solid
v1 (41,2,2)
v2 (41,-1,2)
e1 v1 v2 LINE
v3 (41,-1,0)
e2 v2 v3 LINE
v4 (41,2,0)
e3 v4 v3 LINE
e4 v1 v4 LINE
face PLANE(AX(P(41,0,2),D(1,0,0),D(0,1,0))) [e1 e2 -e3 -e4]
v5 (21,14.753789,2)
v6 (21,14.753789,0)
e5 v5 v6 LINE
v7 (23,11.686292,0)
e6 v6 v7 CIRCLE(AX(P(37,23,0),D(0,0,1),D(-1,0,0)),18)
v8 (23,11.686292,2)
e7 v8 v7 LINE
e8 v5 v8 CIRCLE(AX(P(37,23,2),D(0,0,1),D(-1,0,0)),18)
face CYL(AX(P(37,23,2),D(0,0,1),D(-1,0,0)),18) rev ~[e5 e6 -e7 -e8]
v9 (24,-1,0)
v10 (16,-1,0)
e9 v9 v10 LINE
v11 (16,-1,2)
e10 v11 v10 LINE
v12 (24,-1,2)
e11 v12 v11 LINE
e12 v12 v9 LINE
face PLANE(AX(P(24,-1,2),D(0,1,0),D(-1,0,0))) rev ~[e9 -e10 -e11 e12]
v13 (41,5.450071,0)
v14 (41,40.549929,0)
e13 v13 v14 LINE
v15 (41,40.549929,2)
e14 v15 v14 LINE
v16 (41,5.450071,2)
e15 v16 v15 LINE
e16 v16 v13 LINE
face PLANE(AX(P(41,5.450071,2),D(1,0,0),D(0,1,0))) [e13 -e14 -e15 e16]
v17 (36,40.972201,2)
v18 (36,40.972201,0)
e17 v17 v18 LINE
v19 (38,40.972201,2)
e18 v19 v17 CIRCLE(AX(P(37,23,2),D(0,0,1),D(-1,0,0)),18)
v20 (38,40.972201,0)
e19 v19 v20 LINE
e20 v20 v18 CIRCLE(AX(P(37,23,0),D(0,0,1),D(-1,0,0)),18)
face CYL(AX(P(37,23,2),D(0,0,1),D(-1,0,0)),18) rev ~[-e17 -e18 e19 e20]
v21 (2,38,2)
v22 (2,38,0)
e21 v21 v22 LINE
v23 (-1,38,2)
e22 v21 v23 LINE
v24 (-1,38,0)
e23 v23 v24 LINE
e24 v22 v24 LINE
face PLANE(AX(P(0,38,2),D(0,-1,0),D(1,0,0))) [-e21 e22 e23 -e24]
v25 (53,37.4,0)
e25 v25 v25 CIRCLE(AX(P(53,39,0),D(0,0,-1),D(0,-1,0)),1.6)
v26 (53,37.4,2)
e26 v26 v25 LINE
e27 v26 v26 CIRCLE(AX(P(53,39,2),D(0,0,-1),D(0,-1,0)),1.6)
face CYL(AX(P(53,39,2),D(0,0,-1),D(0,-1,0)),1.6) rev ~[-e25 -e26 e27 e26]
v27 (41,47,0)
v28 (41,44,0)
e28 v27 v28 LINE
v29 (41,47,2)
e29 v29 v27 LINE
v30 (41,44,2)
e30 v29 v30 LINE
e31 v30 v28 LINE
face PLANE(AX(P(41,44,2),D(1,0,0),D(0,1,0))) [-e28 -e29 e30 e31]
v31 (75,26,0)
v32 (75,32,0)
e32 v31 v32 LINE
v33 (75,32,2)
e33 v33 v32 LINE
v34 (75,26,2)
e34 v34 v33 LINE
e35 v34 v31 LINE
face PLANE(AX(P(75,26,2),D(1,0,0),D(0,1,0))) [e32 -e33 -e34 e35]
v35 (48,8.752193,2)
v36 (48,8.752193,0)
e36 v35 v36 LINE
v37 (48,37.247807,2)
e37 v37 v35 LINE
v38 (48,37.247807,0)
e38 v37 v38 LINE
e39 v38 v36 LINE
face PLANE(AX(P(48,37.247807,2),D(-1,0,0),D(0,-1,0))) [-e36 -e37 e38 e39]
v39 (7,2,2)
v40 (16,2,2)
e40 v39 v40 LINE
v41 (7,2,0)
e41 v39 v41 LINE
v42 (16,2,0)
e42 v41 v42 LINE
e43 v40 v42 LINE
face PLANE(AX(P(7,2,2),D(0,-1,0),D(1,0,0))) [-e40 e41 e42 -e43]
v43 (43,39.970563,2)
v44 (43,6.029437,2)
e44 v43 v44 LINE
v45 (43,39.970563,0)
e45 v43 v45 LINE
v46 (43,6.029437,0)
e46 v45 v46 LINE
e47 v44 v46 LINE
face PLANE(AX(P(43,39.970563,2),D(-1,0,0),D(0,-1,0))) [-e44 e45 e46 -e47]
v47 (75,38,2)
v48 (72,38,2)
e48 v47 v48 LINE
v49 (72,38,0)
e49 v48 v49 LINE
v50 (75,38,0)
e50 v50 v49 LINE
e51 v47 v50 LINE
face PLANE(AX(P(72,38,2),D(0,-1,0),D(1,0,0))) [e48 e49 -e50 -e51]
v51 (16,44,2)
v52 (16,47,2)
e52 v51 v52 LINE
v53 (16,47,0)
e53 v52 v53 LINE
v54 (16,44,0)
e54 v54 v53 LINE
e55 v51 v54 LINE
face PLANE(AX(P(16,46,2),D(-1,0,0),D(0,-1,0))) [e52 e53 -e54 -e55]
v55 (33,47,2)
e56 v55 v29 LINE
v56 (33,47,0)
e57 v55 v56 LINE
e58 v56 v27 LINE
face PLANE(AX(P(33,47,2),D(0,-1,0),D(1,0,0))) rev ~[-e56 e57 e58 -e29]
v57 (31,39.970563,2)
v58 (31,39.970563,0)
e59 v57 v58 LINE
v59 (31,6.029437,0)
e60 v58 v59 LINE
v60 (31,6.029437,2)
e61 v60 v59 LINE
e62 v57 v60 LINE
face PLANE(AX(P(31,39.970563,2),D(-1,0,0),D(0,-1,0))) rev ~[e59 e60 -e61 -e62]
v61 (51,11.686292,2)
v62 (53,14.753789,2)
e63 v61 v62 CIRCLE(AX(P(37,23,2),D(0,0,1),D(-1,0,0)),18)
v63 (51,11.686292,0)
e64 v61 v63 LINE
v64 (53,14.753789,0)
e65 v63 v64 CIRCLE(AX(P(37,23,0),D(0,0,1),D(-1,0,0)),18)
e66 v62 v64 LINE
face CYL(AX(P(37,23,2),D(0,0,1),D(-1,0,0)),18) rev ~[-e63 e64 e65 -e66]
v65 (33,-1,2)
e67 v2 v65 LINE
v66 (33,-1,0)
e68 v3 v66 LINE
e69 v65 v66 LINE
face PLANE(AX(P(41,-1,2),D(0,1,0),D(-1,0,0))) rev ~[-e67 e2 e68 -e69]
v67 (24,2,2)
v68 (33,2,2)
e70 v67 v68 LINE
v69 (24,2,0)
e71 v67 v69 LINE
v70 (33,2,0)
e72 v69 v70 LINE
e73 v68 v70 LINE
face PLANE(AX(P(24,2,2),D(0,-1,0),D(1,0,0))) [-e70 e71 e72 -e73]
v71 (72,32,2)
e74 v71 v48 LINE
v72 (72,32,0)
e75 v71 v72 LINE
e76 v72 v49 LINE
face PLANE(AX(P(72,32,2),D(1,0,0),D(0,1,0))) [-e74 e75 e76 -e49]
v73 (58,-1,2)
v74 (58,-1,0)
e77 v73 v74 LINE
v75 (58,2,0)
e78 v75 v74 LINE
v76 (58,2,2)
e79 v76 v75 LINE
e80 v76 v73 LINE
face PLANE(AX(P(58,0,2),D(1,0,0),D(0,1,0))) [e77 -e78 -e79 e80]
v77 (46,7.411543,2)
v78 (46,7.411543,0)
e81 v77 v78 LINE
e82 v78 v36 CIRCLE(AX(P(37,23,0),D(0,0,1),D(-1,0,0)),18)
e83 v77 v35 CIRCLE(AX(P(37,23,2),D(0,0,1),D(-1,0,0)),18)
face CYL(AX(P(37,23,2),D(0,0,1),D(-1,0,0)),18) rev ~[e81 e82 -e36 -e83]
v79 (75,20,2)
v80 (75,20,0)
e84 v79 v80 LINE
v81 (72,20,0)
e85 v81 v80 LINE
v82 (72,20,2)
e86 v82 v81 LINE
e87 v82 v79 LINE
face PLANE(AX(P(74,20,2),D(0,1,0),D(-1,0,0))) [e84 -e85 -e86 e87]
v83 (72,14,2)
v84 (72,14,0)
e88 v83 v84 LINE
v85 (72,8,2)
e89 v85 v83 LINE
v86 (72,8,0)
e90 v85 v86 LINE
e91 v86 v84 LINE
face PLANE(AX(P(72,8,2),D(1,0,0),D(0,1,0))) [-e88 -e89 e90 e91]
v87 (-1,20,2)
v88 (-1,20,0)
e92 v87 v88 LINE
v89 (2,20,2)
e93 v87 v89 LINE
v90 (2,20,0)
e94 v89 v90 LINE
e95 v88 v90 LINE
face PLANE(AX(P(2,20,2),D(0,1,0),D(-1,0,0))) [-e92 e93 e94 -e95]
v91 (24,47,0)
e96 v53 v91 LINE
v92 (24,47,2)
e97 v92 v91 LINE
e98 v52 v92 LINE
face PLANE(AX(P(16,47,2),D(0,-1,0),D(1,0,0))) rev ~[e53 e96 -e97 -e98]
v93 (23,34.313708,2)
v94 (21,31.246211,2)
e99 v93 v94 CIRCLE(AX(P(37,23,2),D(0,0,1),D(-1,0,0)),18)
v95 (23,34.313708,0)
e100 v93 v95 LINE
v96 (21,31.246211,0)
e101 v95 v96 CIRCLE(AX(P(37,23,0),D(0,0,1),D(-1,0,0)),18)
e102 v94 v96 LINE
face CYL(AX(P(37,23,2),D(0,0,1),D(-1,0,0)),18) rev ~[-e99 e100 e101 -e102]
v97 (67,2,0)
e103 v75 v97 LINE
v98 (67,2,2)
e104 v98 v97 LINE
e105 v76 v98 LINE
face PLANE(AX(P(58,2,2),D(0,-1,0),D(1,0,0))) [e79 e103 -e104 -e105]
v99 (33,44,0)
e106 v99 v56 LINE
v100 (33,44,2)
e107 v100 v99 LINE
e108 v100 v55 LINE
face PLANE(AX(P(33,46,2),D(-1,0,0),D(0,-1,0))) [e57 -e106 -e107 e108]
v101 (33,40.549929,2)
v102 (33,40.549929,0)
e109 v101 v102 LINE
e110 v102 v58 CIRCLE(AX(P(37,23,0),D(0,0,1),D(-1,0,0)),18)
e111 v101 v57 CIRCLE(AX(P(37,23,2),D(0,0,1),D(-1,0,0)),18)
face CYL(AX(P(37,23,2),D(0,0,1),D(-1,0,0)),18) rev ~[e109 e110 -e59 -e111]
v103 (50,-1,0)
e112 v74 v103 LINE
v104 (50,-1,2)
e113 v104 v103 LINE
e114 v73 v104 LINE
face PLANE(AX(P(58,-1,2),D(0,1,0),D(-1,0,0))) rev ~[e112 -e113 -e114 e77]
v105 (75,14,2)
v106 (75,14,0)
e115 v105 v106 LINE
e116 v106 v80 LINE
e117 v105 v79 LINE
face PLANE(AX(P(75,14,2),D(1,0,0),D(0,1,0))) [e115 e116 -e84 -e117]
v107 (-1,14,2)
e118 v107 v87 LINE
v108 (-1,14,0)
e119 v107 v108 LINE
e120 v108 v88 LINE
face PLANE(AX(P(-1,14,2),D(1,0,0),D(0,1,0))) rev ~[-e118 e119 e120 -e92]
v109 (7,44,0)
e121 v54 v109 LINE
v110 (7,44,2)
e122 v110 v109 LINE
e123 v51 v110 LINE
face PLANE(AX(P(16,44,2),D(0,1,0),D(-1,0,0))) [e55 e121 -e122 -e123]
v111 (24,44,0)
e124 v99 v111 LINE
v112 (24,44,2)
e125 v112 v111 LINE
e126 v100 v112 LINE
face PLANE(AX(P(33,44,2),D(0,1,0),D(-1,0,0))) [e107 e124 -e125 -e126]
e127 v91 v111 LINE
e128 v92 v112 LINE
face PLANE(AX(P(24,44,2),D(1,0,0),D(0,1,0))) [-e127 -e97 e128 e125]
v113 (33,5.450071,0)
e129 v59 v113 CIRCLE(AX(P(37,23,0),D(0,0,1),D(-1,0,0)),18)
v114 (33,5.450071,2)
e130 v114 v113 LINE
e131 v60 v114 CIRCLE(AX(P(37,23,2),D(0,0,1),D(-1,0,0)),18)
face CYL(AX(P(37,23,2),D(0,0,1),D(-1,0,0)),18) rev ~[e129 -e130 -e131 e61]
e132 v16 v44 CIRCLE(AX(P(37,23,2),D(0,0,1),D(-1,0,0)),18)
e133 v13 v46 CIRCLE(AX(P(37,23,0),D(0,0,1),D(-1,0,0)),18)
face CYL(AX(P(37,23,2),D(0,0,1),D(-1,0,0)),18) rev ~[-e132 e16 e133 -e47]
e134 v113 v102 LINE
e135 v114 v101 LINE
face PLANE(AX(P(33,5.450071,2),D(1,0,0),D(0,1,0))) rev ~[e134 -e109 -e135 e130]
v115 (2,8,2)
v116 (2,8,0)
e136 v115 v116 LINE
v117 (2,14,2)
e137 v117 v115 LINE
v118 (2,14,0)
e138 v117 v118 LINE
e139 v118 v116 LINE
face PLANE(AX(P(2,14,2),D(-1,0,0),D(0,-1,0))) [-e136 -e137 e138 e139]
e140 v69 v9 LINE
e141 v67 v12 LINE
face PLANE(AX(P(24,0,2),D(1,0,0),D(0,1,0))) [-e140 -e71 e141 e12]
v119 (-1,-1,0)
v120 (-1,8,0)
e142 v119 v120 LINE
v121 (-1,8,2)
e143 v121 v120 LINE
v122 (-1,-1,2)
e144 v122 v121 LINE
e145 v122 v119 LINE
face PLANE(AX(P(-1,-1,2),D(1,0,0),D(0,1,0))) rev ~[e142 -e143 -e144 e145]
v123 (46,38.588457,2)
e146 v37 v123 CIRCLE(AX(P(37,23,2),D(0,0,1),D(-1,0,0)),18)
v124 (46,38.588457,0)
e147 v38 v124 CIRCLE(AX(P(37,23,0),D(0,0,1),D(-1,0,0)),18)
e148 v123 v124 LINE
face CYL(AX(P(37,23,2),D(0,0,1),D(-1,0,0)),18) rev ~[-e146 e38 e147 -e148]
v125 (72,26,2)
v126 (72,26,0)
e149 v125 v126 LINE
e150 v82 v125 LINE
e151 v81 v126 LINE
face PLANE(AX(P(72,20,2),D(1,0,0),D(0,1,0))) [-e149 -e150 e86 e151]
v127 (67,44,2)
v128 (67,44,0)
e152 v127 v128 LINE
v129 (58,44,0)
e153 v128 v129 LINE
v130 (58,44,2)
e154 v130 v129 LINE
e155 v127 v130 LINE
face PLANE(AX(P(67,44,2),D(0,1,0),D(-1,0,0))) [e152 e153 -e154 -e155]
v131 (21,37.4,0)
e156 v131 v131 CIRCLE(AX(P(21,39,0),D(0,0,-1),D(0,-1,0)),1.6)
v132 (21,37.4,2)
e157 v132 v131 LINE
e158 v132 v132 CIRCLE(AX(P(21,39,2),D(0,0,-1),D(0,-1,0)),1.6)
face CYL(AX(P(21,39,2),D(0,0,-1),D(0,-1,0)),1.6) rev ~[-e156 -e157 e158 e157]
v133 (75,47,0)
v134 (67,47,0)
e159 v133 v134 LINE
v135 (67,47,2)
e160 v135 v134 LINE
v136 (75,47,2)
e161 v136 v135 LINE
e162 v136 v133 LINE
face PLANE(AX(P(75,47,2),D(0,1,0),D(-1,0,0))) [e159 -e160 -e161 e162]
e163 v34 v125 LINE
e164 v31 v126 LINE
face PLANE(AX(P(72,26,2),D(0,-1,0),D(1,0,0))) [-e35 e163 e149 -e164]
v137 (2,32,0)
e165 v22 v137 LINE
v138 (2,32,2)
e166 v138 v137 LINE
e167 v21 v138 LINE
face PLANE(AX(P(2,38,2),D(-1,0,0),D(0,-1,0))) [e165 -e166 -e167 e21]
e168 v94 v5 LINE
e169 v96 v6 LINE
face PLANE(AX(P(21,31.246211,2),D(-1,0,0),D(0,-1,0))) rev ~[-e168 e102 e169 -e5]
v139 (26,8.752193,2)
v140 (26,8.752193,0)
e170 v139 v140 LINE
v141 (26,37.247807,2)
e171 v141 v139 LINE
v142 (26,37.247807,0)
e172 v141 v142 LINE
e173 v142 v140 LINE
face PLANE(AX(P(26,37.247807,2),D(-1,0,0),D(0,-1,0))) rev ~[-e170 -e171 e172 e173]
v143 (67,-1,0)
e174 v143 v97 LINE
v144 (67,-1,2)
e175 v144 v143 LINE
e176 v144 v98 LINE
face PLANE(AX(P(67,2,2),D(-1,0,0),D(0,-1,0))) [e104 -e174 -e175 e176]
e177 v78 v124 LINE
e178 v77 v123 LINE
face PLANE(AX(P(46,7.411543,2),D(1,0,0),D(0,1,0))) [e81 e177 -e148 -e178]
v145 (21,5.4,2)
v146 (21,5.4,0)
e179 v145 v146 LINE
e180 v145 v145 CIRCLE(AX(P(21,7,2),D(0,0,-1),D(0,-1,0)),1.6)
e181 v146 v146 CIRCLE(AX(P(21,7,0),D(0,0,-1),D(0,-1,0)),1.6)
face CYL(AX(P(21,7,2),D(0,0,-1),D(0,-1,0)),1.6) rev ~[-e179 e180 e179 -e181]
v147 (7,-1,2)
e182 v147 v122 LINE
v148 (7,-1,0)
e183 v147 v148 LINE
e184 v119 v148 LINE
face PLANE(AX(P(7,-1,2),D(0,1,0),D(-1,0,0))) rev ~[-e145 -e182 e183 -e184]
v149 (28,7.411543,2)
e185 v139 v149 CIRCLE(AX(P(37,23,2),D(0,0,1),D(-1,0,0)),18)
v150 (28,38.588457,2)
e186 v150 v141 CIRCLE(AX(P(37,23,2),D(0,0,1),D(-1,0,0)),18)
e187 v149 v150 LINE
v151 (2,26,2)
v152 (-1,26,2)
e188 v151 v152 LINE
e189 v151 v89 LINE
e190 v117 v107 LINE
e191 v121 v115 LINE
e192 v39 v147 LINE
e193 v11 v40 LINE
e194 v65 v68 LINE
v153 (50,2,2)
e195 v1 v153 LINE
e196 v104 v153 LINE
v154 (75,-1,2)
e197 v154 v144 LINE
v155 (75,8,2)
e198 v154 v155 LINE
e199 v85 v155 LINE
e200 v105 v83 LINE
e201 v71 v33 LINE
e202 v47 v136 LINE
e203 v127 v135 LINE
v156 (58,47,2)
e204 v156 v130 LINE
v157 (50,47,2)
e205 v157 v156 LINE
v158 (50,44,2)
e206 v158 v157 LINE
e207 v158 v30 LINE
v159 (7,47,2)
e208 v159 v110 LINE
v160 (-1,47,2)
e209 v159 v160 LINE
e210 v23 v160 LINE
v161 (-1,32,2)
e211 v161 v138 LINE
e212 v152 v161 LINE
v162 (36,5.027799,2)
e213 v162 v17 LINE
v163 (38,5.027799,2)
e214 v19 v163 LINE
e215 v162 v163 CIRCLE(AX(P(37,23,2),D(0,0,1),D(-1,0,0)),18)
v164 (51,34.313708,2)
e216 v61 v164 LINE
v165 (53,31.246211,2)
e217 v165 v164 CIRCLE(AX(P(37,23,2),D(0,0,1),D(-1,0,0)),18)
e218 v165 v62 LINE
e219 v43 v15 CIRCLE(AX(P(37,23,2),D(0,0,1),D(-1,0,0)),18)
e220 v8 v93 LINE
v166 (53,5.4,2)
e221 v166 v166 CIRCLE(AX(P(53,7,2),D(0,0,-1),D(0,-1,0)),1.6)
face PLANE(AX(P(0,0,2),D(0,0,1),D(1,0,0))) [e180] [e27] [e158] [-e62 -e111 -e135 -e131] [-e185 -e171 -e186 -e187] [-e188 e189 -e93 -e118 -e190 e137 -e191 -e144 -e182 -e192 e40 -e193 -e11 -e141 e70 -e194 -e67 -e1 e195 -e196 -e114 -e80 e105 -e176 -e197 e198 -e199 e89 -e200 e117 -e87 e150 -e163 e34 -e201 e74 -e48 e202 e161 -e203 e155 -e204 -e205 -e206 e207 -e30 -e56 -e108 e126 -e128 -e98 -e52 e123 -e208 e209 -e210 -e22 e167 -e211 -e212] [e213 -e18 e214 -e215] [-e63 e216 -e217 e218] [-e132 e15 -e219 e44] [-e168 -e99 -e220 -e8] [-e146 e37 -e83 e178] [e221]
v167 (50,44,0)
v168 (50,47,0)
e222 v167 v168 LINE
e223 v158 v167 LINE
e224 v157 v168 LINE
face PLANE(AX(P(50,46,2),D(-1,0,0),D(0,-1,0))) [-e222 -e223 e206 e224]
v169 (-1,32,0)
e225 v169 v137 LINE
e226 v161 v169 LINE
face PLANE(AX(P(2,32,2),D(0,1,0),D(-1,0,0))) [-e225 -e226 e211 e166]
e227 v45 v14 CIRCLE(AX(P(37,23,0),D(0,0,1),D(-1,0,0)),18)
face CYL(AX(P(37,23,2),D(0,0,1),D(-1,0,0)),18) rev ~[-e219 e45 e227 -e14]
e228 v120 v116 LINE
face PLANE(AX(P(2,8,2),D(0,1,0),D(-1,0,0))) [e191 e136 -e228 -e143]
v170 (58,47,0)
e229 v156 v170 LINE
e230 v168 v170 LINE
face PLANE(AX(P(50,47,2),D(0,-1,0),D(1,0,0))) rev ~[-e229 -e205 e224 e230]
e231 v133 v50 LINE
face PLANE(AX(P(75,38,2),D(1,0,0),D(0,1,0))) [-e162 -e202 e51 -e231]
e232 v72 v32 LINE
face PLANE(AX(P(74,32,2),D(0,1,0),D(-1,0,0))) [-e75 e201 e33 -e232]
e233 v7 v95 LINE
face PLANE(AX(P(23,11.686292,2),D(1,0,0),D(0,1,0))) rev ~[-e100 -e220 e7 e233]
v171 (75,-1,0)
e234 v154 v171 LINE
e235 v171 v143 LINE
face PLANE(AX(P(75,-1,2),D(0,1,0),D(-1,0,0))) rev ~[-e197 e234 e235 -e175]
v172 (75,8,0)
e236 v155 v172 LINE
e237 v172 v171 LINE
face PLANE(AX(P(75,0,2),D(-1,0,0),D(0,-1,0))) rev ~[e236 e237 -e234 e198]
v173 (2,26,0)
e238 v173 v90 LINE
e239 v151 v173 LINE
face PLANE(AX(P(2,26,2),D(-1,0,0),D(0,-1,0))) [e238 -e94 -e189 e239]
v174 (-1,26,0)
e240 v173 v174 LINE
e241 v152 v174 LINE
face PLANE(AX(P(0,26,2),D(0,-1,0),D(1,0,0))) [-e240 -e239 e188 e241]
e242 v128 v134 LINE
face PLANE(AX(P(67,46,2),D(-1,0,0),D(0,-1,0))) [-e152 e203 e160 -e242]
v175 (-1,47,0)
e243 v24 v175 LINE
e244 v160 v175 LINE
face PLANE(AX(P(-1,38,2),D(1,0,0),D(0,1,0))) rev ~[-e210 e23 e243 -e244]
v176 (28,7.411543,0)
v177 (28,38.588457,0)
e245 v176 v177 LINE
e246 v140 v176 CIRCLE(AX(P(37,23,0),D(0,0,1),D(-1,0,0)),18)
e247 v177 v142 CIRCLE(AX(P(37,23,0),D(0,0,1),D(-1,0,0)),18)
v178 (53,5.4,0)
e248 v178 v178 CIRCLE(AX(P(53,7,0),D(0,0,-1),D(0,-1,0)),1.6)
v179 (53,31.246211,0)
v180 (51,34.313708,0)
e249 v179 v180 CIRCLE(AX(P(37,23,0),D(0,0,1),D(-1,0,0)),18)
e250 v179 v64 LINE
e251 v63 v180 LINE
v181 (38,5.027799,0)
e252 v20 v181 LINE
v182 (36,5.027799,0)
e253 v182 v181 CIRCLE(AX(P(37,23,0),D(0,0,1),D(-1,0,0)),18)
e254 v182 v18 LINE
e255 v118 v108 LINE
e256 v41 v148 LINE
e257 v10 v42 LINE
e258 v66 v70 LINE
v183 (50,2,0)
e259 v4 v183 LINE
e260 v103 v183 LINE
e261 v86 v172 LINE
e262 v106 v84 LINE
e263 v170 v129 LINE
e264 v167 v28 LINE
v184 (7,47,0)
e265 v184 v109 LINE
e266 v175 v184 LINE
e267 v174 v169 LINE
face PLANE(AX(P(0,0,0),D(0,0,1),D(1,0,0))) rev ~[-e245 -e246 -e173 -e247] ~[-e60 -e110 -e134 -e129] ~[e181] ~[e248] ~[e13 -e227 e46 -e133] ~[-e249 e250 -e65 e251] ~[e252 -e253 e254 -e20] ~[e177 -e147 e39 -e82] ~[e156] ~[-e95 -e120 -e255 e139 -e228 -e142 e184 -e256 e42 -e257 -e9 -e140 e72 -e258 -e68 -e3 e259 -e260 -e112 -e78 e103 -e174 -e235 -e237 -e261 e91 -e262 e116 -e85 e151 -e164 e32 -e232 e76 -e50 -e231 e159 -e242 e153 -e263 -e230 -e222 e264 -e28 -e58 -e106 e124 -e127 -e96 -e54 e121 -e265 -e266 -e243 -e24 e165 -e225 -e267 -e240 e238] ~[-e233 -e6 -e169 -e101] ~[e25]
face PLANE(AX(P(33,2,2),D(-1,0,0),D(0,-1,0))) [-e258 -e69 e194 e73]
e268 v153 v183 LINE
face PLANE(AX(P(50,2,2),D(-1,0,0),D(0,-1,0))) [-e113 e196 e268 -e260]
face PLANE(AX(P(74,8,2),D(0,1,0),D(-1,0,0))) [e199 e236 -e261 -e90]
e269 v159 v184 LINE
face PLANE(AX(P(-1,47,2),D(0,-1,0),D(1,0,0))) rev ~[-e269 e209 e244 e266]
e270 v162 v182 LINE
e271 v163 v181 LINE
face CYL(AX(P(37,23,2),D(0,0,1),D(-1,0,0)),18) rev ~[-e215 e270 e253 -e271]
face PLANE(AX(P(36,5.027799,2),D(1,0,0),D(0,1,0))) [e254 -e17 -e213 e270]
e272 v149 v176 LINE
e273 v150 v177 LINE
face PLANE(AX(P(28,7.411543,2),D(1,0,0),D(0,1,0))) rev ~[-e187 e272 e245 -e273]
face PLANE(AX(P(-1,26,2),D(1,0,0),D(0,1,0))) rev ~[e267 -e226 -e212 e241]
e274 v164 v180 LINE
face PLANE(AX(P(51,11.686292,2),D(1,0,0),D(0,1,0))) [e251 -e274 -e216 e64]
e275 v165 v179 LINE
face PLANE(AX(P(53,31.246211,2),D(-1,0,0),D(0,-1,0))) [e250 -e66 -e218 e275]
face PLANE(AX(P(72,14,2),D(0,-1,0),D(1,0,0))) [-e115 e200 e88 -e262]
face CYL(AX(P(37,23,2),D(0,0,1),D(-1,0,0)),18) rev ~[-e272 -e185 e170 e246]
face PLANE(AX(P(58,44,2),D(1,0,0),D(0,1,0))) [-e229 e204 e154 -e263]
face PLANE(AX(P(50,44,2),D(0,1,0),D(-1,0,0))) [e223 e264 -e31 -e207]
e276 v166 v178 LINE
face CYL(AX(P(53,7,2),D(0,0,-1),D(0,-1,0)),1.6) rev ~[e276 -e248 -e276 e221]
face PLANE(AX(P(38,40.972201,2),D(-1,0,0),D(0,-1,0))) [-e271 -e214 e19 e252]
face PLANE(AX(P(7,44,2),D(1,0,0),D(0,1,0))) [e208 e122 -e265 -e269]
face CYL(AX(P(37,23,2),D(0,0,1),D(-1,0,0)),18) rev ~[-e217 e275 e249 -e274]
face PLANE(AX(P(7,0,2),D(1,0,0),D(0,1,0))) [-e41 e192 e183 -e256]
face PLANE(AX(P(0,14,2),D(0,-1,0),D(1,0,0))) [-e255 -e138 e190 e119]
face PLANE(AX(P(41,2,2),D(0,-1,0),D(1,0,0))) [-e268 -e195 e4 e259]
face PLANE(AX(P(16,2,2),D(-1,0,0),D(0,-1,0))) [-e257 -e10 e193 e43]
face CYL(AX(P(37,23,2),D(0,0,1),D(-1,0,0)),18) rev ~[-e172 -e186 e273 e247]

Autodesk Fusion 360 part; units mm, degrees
sketch "スケッチ1" plane through (0, 0, 0) normal (0, 0, 1) x (1, 0, 0)
  line L0 (0, 0) -> (74, 0)
  line L1 (74, 0) -> (74, 46)
  line L2 (74, 46) -> (0, 46)
  line L3 (0, 46) -> (0, 0)
  dimension "d1" = 46
  dimension "d2" = 74
extrude "押し出し1" add sketch "スケッチ1" along normal blind 2
sketch "スケッチ2" plane through (0, 0, 2) normal (0, 0, 1) x (-1, 0, 0)
  line L0 (0, -46) -> (0, 0)
  line L1 (0, 0) -> (-74, 0)
  line L2 (-74, 0) -> (-74, -46)
  line L3 (-74, -46) -> (0, -46)
  circle A0 centre (-53, -39) radius 1.6
  circle A1 centre (-53, -39) radius 1.6
  circle A2 centre (-53, -7) radius 1.6
  circle A3 centre (-21, -7) radius 1.6
  circle A4 centre (-21, -39) radius 1.6
  dimension "d5" = 3.2
  dimension "d6" = 7
  dimension "d7" = 21
  dimension "d8" = 3.2
  dimension "d9" = 3.2
  dimension "d10" = 3.2
  dimension "d11" = 3.2
  dimension "d12" = 7
  dimension "d13" = 21
hole "穴1" at (21, 39, 2) at (53, 39, 2) at (53, 7, 2) at (21, 7, 2) direction (0, 0, -1) diameter 3.2 depth 16 tip angle 118
sketch "スケッチ3" plane through (0, 0, 2) normal (0, 0, 1) x (-1, 0, 0)
  circle A0 centre (-53, -7) radius 1.6
  circle A1 centre (-21, -39) radius 1.6
  circle A2 centre (-53, -39) radius 1.6
  circle A3 centre (-21, -7) radius 1.6
  line L0 (0, -46) -> (0, 0)
  line L1 (0, 0) -> (-74, 0)
  line L2 (-74, 0) -> (-74, -46)
  line L3 (-74, -46) -> (0, -46)
  line L4 (-58, -46) -> (-67, -46)
  line L5 (-67, -46) -> (-67, -44)
  line L6 (-67, -44) -> (-58, -44)
  line L7 (-58, -44) -> (-58, -46)
  line L8 (-50, -46) -> (-50, -44)
  line L9 (-41, -46) -> (-50, -46)
  line L10 (-50, -44) -> (-41, -44)
  line L11 (-41, -44) -> (-41, -46)
  line L12 (-33, -46) -> (-33, -44)
  line L13 (-24, -46) -> (-33, -46)
  line L14 (-33, -44) -> (-24, -44)
  line L15 (-24, -44) -> (-24, -46)
  line L16 (-16, -46) -> (-16, -44)
  line L17 (-7, -46) -> (-16, -46)
  line L18 (-16, -44) -> (-7, -44)
  line L19 (-7, -44) -> (-7, -46)
  line L20 (0, -38) -> (-2, -38)
  line L21 (-2, -38) -> (-2, -32)
  line L22 (-2, -32) -> (0, -32)
  line L23 (0, -32) -> (0, -38)
  line L24 (-2, -20) -> (0, -20)
  line L25 (0, -20) -> (0, -26)
  line L26 (-2, -26) -> (-2, -20)
  line L27 (0, -26) -> (-2, -26)
  line L28 (-2, -8) -> (0, -8)
  line L29 (0, -8) -> (0, -14)
  line L30 (-2, -14) -> (-2, -8)
  line L31 (0, -14) -> (-2, -14)
  line L32 (-72, -8) -> (-72, -14)
  line L33 (-72, -38) -> (-74, -38)
  line L34 (-72, -32) -> (-72, -38)
  line L35 (-74, -26) -> (-74, -20)
  line L36 (-74, -32) -> (-72, -32)
  line L37 (-74, -20) -> (-72, -20)
  line L38 (-72, -20) -> (-72, -26)
  line L39 (-74, -14) -> (-74, -8)
  line L40 (-72, -26) -> (-74, -26)
  line L41 (-74, -38) -> (-74, -32)
  line L42 (-74, -8) -> (-72, -8)
  line L43 (-72, -14) -> (-74, -14)
  line L44 (-144, -8) -> (-144, -14)
  line L45 (-144, -38) -> (-146, -38)
  line L46 (-144, -32) -> (-144, -38)
  line L47 (-146, -26) -> (-146, -20)
  line L48 (-146, -32) -> (-144, -32)
  line L49 (-146, -20) -> (-144, -20)
  line L50 (-144, -20) -> (-144, -26)
  line L51 (-146, -14) -> (-146, -8)
  line L52 (-144, -26) -> (-146, -26)
  line L53 (-146, -38) -> (-146, -32)
  line L54 (-146, -8) -> (-144, -8)
  line L55 (-144, -14) -> (-146, -14)
  line L56 (-41, 0) -> (-41, -2)
  line L57 (-67, 0) -> (-58, 0)
  line L58 (-67, -2) -> (-67, 0)
  line L59 (-41, -2) -> (-50, -2)
  line L60 (-7, 0) -> (-7, -2)
  line L61 (-24, 0) -> (-24, -2)
  line L62 (-33, 0) -> (-24, 0)
  line L63 (-50, -2) -> (-50, 0)
  line L64 (-24, -2) -> (-33, -2)
  line L65 (-7, -2) -> (-16, -2)
  line L66 (-58, -2) -> (-67, -2)
  line L67 (-16, -2) -> (-16, 0)
  line L68 (-50, 0) -> (-41, 0)
  line L69 (-58, 0) -> (-58, -2)
  line L70 (-16, 0) -> (-7, 0)
  line L71 (-33, -2) -> (-33, 0)
  line L72 (-41, 44) -> (-41, 42)
  line L73 (-67, 44) -> (-58, 44)
  line L74 (-67, 42) -> (-67, 44)
  line L75 (-41, 42) -> (-50, 42)
  line L76 (-7, 44) -> (-7, 42)
  line L77 (-24, 44) -> (-24, 42)
  line L78 (-33, 44) -> (-24, 44)
  line L79 (-50, 42) -> (-50, 44)
  line L80 (-24, 42) -> (-33, 42)
  line L81 (-7, 42) -> (-16, 42)
  line L82 (-58, 42) -> (-67, 42)
  line L83 (-16, 42) -> (-16, 44)
  line L84 (-50, 44) -> (-41, 44)
  line L85 (-58, 44) -> (-58, 42)
  line L86 (-16, 44) -> (-7, 44)
  line L87 (-33, 42) -> (-33, 44)
  dimension "d17" = 9
  dimension "d18" = 2
  dimension "d19" = 7
  dimension "d22" = 17
  dimension "d23" = 0
  dimension "d24" = 6
  dimension "d25" = 2
  dimension "d26" = 8
  dimension "d29" = 0
  dimension "d30" = 12
  dimension "d33" = -72
  dimension "d34" = 0
  dimension "d37" = 0
  dimension "d38" = 44
extrude "押し出し2" cut sketch "スケッチ3" against normal blind 2 contours L0 L20 L21 L22 L23 | L3 L16 L17 L18 L19 | L0 L24 L25 L26 L27 | L3 L12 L13 L14 L15 | L0 L28 L29 L30 L31 | L3 L8 L9 L10 L11 | L3 L4 L5 L6 L7 | L1 L60 L65 L67 L70 | L1 L61 L62 L64 L71 | L2 L33 L34 L36 L41 | L1 L56 L59 L63 L68 | L2 L35 L37 L38 L40 | L1 L57 L58 L66 L69 | L2 L32 L39 L42 L43
sketch "スケッチ4" plane through (0, 0, 2) normal (0, 0, 1) x (-1, 0, 0)
  line L0 (-50, -2) -> (-50, 0)
  line L1 (-50, 0) -> (-58, 0)
  line L2 (-58, 0) -> (-58, -2)
  line L3 (-58, -2) -> (-67, -2)
  line L4 (-67, -2) -> (-67, 0)
  line L5 (-67, 0) -> (-74, 0)
  line L6 (-74, 0) -> (-74, -8)
  line L7 (-74, -8) -> (-72, -8)
  line L8 (-72, -8) -> (-72, -14)
  line L9 (-72, -14) -> (-74, -14)
  line L10 (-74, -14) -> (-74, -20)
  line L11 (-74, -20) -> (-72, -20)
  line L12 (-72, -20) -> (-72, -26)
  line L13 (-72, -26) -> (-74, -26)
  line L14 (-74, -26) -> (-74, -32)
  line L15 (-74, -32) -> (-72, -32)
  line L16 (-72, -32) -> (-72, -38)
  line L17 (-72, -38) -> (-74, -38)
  line L18 (-74, -38) -> (-74, -46)
  line L19 (-74, -46) -> (-67, -46)
  line L20 (-67, -46) -> (-67, -44)
  line L21 (-67, -44) -> (-58, -44)
  line L22 (-58, -44) -> (-58, -46)
  line L23 (-58, -46) -> (-50, -46)
  line L24 (-50, -46) -> (-50, -44)
  line L25 (-50, -44) -> (-41, -44)
  line L26 (-41, -44) -> (-41, -46)
  line L27 (-41, -46) -> (-33, -46)
  line L28 (-33, -46) -> (-33, -44)
  line L29 (-33, -44) -> (-24, -44)
  line L30 (-24, -44) -> (-24, -46)
  line L31 (-24, -46) -> (-16, -46)
  line L32 (-16, -46) -> (-16, -44)
  line L33 (-16, -44) -> (-7, -44)
  line L34 (-7, -44) -> (-7, -46)
  line L35 (-7, -46) -> (0, -46)
  line L36 (0, -46) -> (0, -38)
  line L37 (0, -38) -> (-2, -38)
  line L38 (-2, -38) -> (-2, -32)
  line L39 (-2, -32) -> (0, -32)
  line L40 (0, -32) -> (0, -26)
  line L41 (0, -26) -> (-2, -26)
  line L42 (-2, -26) -> (-2, -20)
  line L43 (-2, -20) -> (0, -20)
  line L44 (0, -20) -> (0, -14)
  line L45 (0, -14) -> (-2, -14)
  line L46 (-2, -14) -> (-2, -8)
  line L47 (-2, -8) -> (0, -8)
  line L48 (0, -8) -> (0, 0)
  line L49 (0, 0) -> (-7, 0)
  line L50 (-7, 0) -> (-7, -2)
  line L51 (-7, -2) -> (-16, -2)
  line L52 (-16, -2) -> (-16, 0)
  line L53 (-16, 0) -> (-24, 0)
  line L54 (-24, 0) -> (-24, -2)
  line L55 (-24, -2) -> (-33, -2)
  line L56 (-33, -2) -> (-33, 0)
  line L57 (-33, 0) -> (-41, 0)
  line L58 (-41, 0) -> (-41, -2)
  line L59 (-41, -2) -> (-50, -2)
  circle A0 centre (-53, -7) radius 1.6
  circle A1 centre (-21, -39) radius 1.6
  circle A2 centre (-53, -39) radius 1.6
  circle A3 centre (-21, -7) radius 1.6
  circle A4 centre (-37, -23) radius 18
  line L60 (-36, -42) -> (-38, -42)
  line L61 (-38, -42) -> (-38, -4)
  line L62 (-38, -4) -> (-36, -4)
  line L63 (-36, -4) -> (-36, -42)
  line L64 (-41, -42) -> (-43, -42)
  line L65 (-43, -42) -> (-43, -5)
  line L66 (-43, -5) -> (-41, -5)
  line L67 (-41, -5) -> (-41, -42)
  line L68 (-46, -40) -> (-48, -40)
  line L69 (-48, -40) -> (-48, -6)
  line L70 (-48, -6) -> (-46, -6)
  line L71 (-46, -6) -> (-46, -40)
  line L72 (-51, -36) -> (-53, -36)
  line L73 (-53, -36) -> (-53, -11)
  line L74 (-53, -11) -> (-51, -11)
  line L75 (-51, -11) -> (-51, -36)
  line L76 (-33, -42) -> (-31, -42)
  line L77 (-31, -42) -> (-31, -4)
  line L78 (-31, -4) -> (-33, -4)
  line L79 (-33, -4) -> (-33, -42)
  line L80 (-28, -40) -> (-26, -40)
  line L81 (-26, -40) -> (-26, -6)
  line L82 (-26, -6) -> (-28, -6)
  line L83 (-28, -6) -> (-28, -40)
  line L84 (-23, -36) -> (-21, -36)
  line L85 (-21, -36) -> (-21, -11)
  line L86 (-21, -11) -> (-23, -11)
  line L87 (-23, -11) -> (-23, -36)
extrude "押し出し3" cut sketch "スケッチ4" against normal blind 2 contours A4 L85 L87 | A4 L81 L83 | A4 L77 L79 | A4 L61 L63 | A4 L65 L67 | A4 L69 L71 | A4 L73 L75
sketch "スケッチ5" plane through (0, 0, 2) normal (0, 0, 1) x (-1, 0, 0)
  line L0 (-33, -40.5499) -> (-33, -5.4501)
  arc A0 (-31, -6.0294) -> (-33, -5.4501) centre (-37, -23) ccw
  line L1 (-31, -6.0294) -> (-31, -39.9706)
  arc A1 (-33, -40.5499) -> (-31, -39.9706) centre (-37, -23) ccw
  line L2 (-51, -11.6863) -> (-51, -34.3137)
  arc A2 (-53, -31.2462) -> (-51, -34.3137) centre (-37, -23) ccw
  line L3 (-53, -31.2462) -> (-53, -14.7538)
  arc A3 (-51, -11.6863) -> (-53, -14.7538) centre (-37, -23) ccw
  line L4 (-36, -5.0278) -> (-36, -40.9722)
  arc A4 (-38, -40.9722) -> (-36, -40.9722) centre (-37, -23) ccw
  line L5 (-38, -40.9722) -> (-38, -5.0278)
  arc A5 (-36, -5.0278) -> (-38, -5.0278) centre (-37, -23) ccw
  line L6 (-28, -38.5885) -> (-28, -7.4115)
  arc A6 (-26, -8.7522) -> (-28, -7.4115) centre (-37, -23) ccw
  line L7 (-26, -8.7522) -> (-26, -37.2478)
  arc A7 (-28, -38.5885) -> (-26, -37.2478) centre (-37, -23) ccw
  line L8 (-46, -7.4115) -> (-46, -38.5885)
  arc A8 (-48, -37.2478) -> (-46, -38.5885) centre (-37, -23) ccw
  line L9 (-48, -37.2478) -> (-48, -8.7522)
  arc A9 (-46, -7.4115) -> (-48, -8.7522) centre (-37, -23) ccw
  line L10 (-41, -5.4501) -> (-41, -40.5499)
  arc A10 (-43, -39.9706) -> (-41, -40.5499) centre (-37, -23) ccw
  line L11 (-43, -39.9706) -> (-43, -6.0294)
  arc A11 (-41, -5.4501) -> (-43, -6.0294) centre (-37, -23) ccw
  line L12 (-23, -34.3137) -> (-23, -11.6863)
  arc A12 (-21, -14.7538) -> (-23, -11.6863) centre (-37, -23) ccw
  line L13 (-21, -14.7538) -> (-21, -31.2462)
  arc A13 (-23, -34.3137) -> (-21, -31.2462) centre (-37, -23) ccw
  line L14 (-50, -2) -> (-50, 0)
  line L15 (-50, 0) -> (-58, 0)
  line L16 (-58, 0) -> (-58, -2)
  line L17 (-58, -2) -> (-67, -2)
  line L18 (-67, -2) -> (-67, 0)
  line L19 (-67, 0) -> (-74, 0)
  line L20 (-74, 0) -> (-74, -8)
  line L21 (-74, -8) -> (-72, -8)
  line L22 (-72, -8) -> (-72, -14)
  line L23 (-72, -14) -> (-74, -14)
  line L24 (-74, -14) -> (-74, -20)
  line L25 (-74, -20) -> (-72, -20)
  line L26 (-72, -20) -> (-72, -26)
  line L27 (-72, -26) -> (-74, -26)
  line L28 (-74, -26) -> (-74, -32)
  line L29 (-74, -32) -> (-72, -32)
  line L30 (-72, -32) -> (-72, -38)
  line L31 (-72, -38) -> (-74, -38)
  line L32 (-74, -38) -> (-74, -46)
  line L33 (-74, -46) -> (-67, -46)
  line L34 (-67, -46) -> (-67, -44)
  line L35 (-67, -44) -> (-58, -44)
  line L36 (-58, -44) -> (-58, -46)
  line L37 (-58, -46) -> (-50, -46)
  line L38 (-50, -46) -> (-50, -44)
  line L39 (-50, -44) -> (-41, -44)
  line L40 (-41, -44) -> (-41, -46)
  line L41 (-41, -46) -> (-33, -46)
  line L42 (-33, -46) -> (-33, -44)
  line L43 (-33, -44) -> (-24, -44)
  line L44 (-24, -44) -> (-24, -46)
  line L45 (-24, -46) -> (-16, -46)
  line L46 (-16, -46) -> (-16, -44)
  line L47 (-16, -44) -> (-7, -44)
  line L48 (-7, -44) -> (-7, -46)
  line L49 (-7, -46) -> (0, -46)
  line L50 (0, -46) -> (0, -38)
  line L51 (0, -38) -> (-2, -38)
  line L52 (-2, -38) -> (-2, -32)
  line L53 (-2, -32) -> (0, -32)
  line L54 (0, -32) -> (0, -26)
  line L55 (0, -26) -> (-2, -26)
  line L56 (-2, -26) -> (-2, -20)
  line L57 (-2, -20) -> (0, -20)
  line L58 (0, -20) -> (0, -14)
  line L59 (0, -14) -> (-2, -14)
  line L60 (-2, -14) -> (-2, -8)
  line L61 (-2, -8) -> (0, -8)
  line L62 (0, -8) -> (0, 0)
  line L63 (0, 0) -> (-7, 0)
  line L64 (-7, 0) -> (-7, -2)
  line L65 (-7, -2) -> (-16, -2)
  line L66 (-16, -2) -> (-16, 0)
  line L67 (-16, 0) -> (-24, 0)
  line L68 (-24, 0) -> (-24, -2)
  line L69 (-24, -2) -> (-33, -2)
  line L70 (-33, -2) -> (-33, 0)
  line L71 (-33, 0) -> (-41, 0)
  line L72 (-41, 0) -> (-41, -2)
  line L73 (-41, -2) -> (-50, -2)
  circle A14 centre (-53, -7) radius 1.6
  circle A15 centre (-21, -39) radius 1.6
  circle A16 centre (-53, -39) radius 1.6
  circle A17 centre (-21, -7) radius 1.6
  line L74 (0, 0) -> (-7, 0)
  line L75 (-7, 0) -> (-7, 1)
  line L76 (-7, 1) -> (0, 1)
  line L77 (0, 1) -> (0, 0)
  line L78 (-16, 0) -> (-24, 0)
  line L79 (-24, 0) -> (-24, 1)
  line L80 (-24, 1) -> (-16, 1)
  line L81 (-16, 1) -> (-16, 0)
  line L82 (-33, 0) -> (-41, 0)
  line L83 (-41, 0) -> (-41, 1)
  line L84 (-41, 1) -> (-33, 1)
  line L85 (-33, 1) -> (-33, 0)
  line L86 (-50, 0) -> (-58, 0)
  line L87 (-58, 0) -> (-58, 1)
  line L88 (-58, 1) -> (-50, 1)
  line L89 (-50, 1) -> (-50, 0)
  line L90 (-67, 0) -> (-75, 0)
  line L91 (-75, 0) -> (-75, 1)
  line L92 (-75, 1) -> (-67, 1)
  line L93 (-67, 1) -> (-67, 0)
  line L94 (-74, 0) -> (-75, 0)
  line L95 (-75, 0) -> (-75, -8)
  line L96 (-75, -8) -> (-74, -8)
  line L97 (-74, -8) -> (-74, 0)
  line L98 (-74, -14) -> (-75, -14)
  line L99 (-75, -14) -> (-75, -20)
  line L100 (-75, -20) -> (-74, -20)
  line L101 (-74, -20) -> (-74, -14)
  line L102 (-74, -26) -> (-75, -26)
  line L103 (-75, -26) -> (-75, -32)
  line L104 (-75, -32) -> (-74, -32)
  line L105 (-74, -32) -> (-74, -26)
  line L106 (-74, -38) -> (-75, -38)
  line L107 (-75, -38) -> (-75, -46)
  line L108 (-75, -46) -> (-74, -46)
  line L109 (-74, -46) -> (-74, -38)
  line L110 (-67, -46) -> (-75, -46)
  line L111 (-75, -46) -> (-75, -47)
  line L112 (-75, -47) -> (-67, -47)
  line L113 (-67, -47) -> (-67, -46)
  line L114 (-58, -46) -> (-50, -46)
  line L115 (-50, -46) -> (-50, -47)
  line L116 (-50, -47) -> (-58, -47)
  line L117 (-58, -47) -> (-58, -46)
  line L118 (-41, -46) -> (-33, -46)
  line L119 (-33, -46) -> (-33, -47)
  line L120 (-33, -47) -> (-41, -47)
  line L121 (-41, -47) -> (-41, -46)
  line L122 (-24, -46) -> (-16, -46)
  line L123 (-16, -46) -> (-16, -47)
  line L124 (-16, -47) -> (-24, -47)
  line L125 (-24, -47) -> (-24, -46)
  line L126 (-7, -46) -> (0, -46)
  line L127 (0, -46) -> (0, -47)
  line L128 (0, -47) -> (-7, -47)
  line L129 (-7, -47) -> (-7, -46)
  line L130 (1, -47) -> (0, -47)
  line L131 (0, -47) -> (0, -38)
  line L132 (0, -38) -> (1, -38)
  line L133 (1, -38) -> (1, -47)
  line L134 (1, -32) -> (0, -32)
  line L135 (0, -32) -> (0, -26)
  line L136 (0, -26) -> (1, -26)
  line L137 (1, -26) -> (1, -32)
  line L138 (1, -20) -> (0, -20)
  line L139 (0, -20) -> (0, -14)
  line L140 (0, -14) -> (1, -14)
  line L141 (1, -14) -> (1, -20)
  line L142 (1, -8) -> (0, -8)
  line L143 (0, -8) -> (0, 1)
  line L144 (0, 1) -> (1, 1)
  line L145 (1, 1) -> (1, -8)
extrude "押し出し4" add sketch "スケッチ5" against normal blind 2 contours L15 L86 L87 L88 L89 | L71 L82 L83 L84 L85 | L19 L90 L91 L92 L93 L94 | L20 L90 L94 L95 L96 L97 | L67 L78 L79 L80 L81 | L24 L98 L99 L100 L101 | L63 L74 L75 L76 L77 L143 | L62 L77 L142 L143 L144 L145 | L28 L102 L103 L104 L105 | L58 L138 L139 L140 L141 | L32 L106 L107 L108 L109 L110 | L33 L108 L110 L111 L112 L113 | L54 L134 L135 L136 L137 | L37 L114 L115 L116 L117 | L50 L127 L130 L131 L132 L133 | L49 L126 L127 L128 L129 L131 | L41 L118 L119 L120 L121 | L45 L122 L123 L124 L125
sketch "スケッチ6" plane through (0, 0, 0) normal (0, 0, -1) x (1, 0, 0)
  line L0 (33, -5.4501) -> (33, -40.5499)
  arc A0 (31, -39.9706) -> (33, -40.5499) centre (37, -23) ccw
  line L1 (31, -39.9706) -> (31, -6.0294)
  arc A1 (33, -5.4501) -> (31, -6.0294) centre (37, -23) ccw
  line L2 (51, -34.3137) -> (51, -11.6863)
  arc A2 (53, -14.7538) -> (51, -11.6863) centre (37, -23) ccw
  line L3 (53, -14.7538) -> (53, -31.2462)
  arc A3 (51, -34.3137) -> (53, -31.2462) centre (37, -23) ccw
  line L4 (36, -40.9722) -> (36, -5.0278)
  arc A4 (38, -5.0278) -> (36, -5.0278) centre (37, -23) ccw
  line L5 (38, -5.0278) -> (38, -40.9722)
  arc A5 (36, -40.9722) -> (38, -40.9722) centre (37, -23) ccw
  line L6 (28, -7.4115) -> (28, -38.5885)
  arc A6 (26, -37.2478) -> (28, -38.5885) centre (37, -23) ccw
  line L7 (26, -37.2478) -> (26, -8.7522)
  arc A7 (28, -7.4115) -> (26, -8.7522) centre (37, -23) ccw
  line L8 (46, -38.5885) -> (46, -7.4115)
  arc A8 (48, -8.7522) -> (46, -7.4115) centre (37, -23) ccw
  line L9 (48, -8.7522) -> (48, -37.2478)
  arc A9 (46, -38.5885) -> (48, -37.2478) centre (37, -23) ccw
  line L10 (41, -40.5499) -> (41, -5.4501)
  arc A10 (43, -6.0294) -> (41, -5.4501) centre (37, -23) ccw
  line L11 (43, -6.0294) -> (43, -39.9706)
  arc A11 (41, -40.5499) -> (43, -39.9706) centre (37, -23) ccw
  line L12 (23, -11.6863) -> (23, -34.3137)
  arc A12 (21, -31.2462) -> (23, -34.3137) centre (37, -23) ccw
  line L13 (21, -31.2462) -> (21, -14.7538)
  arc A13 (23, -11.6863) -> (21, -14.7538) centre (37, -23) ccw
  line L14 (50, 1) -> (50, -2)
  line L15 (50, -2) -> (41, -2)
  line L16 (41, -2) -> (41, 1)
  line L17 (41, 1) -> (33, 1)
  line L18 (33, 1) -> (33, -2)
  line L19 (33, -2) -> (24, -2)
  line L20 (24, -2) -> (24, 1)
  line L21 (24, 1) -> (16, 1)
  line L22 (16, 1) -> (16, -2)
  line L23 (16, -2) -> (7, -2)
  line L24 (7, -2) -> (7, 1)
  line L25 (7, 1) -> (-1, 1)
  line L26 (-1, 1) -> (-1, -8)
  line L27 (-1, -8) -> (2, -8)
  line L28 (2, -8) -> (2, -14)
  line L29 (2, -14) -> (-1, -14)
  line L30 (-1, -14) -> (-1, -20)
  line L31 (-1, -20) -> (2, -20)
  line L32 (2, -20) -> (2, -26)
  line L33 (2, -26) -> (-1, -26)
  line L34 (-1, -26) -> (-1, -32)
  line L35 (-1, -32) -> (2, -32)
  line L36 (2, -32) -> (2, -38)
  line L37 (2, -38) -> (-1, -38)
  line L38 (-1, -38) -> (-1, -47)
  line L39 (-1, -47) -> (7, -47)
  line L40 (7, -47) -> (7, -44)
  line L41 (7, -44) -> (16, -44)
  line L42 (16, -44) -> (16, -47)
  line L43 (16, -47) -> (24, -47)
  line L44 (24, -47) -> (24, -44)
  line L45 (24, -44) -> (33, -44)
  line L46 (33, -44) -> (33, -47)
  line L47 (33, -47) -> (41, -47)
  line L48 (41, -47) -> (41, -44)
  line L49 (41, -44) -> (50, -44)
  line L50 (50, -44) -> (50, -47)
  line L51 (50, -47) -> (58, -47)
  line L52 (58, -47) -> (58, -44)
  line L53 (58, -44) -> (67, -44)
  line L54 (67, -44) -> (67, -47)
  line L55 (67, -47) -> (75, -47)
  line L56 (75, -47) -> (75, -38)
  line L57 (75, -38) -> (72, -38)
  line L58 (72, -38) -> (72, -32)
  line L59 (72, -32) -> (75, -32)
  line L60 (75, -32) -> (75, -26)
  line L61 (75, -26) -> (72, -26)
  line L62 (72, -26) -> (72, -20)
  line L63 (72, -20) -> (75, -20)
  line L64 (75, -20) -> (75, -14)
  line L65 (75, -14) -> (72, -14)
  line L66 (72, -14) -> (72, -8)
  line L67 (72, -8) -> (75, -8)
  line L68 (75, -8) -> (75, 1)
  line L69 (75, 1) -> (67, 1)
  line L70 (67, 1) -> (67, -2)
  line L71 (67, -2) -> (58, -2)
  line L72 (58, -2) -> (58, 1)
  line L73 (58, 1) -> (50, 1)
  circle A14 centre (21, -7) radius 1.6
  circle A15 centre (53, -39) radius 1.6
  circle A16 centre (21, -39) radius 1.6
  circle A17 centre (53, -7) radius 1.6
